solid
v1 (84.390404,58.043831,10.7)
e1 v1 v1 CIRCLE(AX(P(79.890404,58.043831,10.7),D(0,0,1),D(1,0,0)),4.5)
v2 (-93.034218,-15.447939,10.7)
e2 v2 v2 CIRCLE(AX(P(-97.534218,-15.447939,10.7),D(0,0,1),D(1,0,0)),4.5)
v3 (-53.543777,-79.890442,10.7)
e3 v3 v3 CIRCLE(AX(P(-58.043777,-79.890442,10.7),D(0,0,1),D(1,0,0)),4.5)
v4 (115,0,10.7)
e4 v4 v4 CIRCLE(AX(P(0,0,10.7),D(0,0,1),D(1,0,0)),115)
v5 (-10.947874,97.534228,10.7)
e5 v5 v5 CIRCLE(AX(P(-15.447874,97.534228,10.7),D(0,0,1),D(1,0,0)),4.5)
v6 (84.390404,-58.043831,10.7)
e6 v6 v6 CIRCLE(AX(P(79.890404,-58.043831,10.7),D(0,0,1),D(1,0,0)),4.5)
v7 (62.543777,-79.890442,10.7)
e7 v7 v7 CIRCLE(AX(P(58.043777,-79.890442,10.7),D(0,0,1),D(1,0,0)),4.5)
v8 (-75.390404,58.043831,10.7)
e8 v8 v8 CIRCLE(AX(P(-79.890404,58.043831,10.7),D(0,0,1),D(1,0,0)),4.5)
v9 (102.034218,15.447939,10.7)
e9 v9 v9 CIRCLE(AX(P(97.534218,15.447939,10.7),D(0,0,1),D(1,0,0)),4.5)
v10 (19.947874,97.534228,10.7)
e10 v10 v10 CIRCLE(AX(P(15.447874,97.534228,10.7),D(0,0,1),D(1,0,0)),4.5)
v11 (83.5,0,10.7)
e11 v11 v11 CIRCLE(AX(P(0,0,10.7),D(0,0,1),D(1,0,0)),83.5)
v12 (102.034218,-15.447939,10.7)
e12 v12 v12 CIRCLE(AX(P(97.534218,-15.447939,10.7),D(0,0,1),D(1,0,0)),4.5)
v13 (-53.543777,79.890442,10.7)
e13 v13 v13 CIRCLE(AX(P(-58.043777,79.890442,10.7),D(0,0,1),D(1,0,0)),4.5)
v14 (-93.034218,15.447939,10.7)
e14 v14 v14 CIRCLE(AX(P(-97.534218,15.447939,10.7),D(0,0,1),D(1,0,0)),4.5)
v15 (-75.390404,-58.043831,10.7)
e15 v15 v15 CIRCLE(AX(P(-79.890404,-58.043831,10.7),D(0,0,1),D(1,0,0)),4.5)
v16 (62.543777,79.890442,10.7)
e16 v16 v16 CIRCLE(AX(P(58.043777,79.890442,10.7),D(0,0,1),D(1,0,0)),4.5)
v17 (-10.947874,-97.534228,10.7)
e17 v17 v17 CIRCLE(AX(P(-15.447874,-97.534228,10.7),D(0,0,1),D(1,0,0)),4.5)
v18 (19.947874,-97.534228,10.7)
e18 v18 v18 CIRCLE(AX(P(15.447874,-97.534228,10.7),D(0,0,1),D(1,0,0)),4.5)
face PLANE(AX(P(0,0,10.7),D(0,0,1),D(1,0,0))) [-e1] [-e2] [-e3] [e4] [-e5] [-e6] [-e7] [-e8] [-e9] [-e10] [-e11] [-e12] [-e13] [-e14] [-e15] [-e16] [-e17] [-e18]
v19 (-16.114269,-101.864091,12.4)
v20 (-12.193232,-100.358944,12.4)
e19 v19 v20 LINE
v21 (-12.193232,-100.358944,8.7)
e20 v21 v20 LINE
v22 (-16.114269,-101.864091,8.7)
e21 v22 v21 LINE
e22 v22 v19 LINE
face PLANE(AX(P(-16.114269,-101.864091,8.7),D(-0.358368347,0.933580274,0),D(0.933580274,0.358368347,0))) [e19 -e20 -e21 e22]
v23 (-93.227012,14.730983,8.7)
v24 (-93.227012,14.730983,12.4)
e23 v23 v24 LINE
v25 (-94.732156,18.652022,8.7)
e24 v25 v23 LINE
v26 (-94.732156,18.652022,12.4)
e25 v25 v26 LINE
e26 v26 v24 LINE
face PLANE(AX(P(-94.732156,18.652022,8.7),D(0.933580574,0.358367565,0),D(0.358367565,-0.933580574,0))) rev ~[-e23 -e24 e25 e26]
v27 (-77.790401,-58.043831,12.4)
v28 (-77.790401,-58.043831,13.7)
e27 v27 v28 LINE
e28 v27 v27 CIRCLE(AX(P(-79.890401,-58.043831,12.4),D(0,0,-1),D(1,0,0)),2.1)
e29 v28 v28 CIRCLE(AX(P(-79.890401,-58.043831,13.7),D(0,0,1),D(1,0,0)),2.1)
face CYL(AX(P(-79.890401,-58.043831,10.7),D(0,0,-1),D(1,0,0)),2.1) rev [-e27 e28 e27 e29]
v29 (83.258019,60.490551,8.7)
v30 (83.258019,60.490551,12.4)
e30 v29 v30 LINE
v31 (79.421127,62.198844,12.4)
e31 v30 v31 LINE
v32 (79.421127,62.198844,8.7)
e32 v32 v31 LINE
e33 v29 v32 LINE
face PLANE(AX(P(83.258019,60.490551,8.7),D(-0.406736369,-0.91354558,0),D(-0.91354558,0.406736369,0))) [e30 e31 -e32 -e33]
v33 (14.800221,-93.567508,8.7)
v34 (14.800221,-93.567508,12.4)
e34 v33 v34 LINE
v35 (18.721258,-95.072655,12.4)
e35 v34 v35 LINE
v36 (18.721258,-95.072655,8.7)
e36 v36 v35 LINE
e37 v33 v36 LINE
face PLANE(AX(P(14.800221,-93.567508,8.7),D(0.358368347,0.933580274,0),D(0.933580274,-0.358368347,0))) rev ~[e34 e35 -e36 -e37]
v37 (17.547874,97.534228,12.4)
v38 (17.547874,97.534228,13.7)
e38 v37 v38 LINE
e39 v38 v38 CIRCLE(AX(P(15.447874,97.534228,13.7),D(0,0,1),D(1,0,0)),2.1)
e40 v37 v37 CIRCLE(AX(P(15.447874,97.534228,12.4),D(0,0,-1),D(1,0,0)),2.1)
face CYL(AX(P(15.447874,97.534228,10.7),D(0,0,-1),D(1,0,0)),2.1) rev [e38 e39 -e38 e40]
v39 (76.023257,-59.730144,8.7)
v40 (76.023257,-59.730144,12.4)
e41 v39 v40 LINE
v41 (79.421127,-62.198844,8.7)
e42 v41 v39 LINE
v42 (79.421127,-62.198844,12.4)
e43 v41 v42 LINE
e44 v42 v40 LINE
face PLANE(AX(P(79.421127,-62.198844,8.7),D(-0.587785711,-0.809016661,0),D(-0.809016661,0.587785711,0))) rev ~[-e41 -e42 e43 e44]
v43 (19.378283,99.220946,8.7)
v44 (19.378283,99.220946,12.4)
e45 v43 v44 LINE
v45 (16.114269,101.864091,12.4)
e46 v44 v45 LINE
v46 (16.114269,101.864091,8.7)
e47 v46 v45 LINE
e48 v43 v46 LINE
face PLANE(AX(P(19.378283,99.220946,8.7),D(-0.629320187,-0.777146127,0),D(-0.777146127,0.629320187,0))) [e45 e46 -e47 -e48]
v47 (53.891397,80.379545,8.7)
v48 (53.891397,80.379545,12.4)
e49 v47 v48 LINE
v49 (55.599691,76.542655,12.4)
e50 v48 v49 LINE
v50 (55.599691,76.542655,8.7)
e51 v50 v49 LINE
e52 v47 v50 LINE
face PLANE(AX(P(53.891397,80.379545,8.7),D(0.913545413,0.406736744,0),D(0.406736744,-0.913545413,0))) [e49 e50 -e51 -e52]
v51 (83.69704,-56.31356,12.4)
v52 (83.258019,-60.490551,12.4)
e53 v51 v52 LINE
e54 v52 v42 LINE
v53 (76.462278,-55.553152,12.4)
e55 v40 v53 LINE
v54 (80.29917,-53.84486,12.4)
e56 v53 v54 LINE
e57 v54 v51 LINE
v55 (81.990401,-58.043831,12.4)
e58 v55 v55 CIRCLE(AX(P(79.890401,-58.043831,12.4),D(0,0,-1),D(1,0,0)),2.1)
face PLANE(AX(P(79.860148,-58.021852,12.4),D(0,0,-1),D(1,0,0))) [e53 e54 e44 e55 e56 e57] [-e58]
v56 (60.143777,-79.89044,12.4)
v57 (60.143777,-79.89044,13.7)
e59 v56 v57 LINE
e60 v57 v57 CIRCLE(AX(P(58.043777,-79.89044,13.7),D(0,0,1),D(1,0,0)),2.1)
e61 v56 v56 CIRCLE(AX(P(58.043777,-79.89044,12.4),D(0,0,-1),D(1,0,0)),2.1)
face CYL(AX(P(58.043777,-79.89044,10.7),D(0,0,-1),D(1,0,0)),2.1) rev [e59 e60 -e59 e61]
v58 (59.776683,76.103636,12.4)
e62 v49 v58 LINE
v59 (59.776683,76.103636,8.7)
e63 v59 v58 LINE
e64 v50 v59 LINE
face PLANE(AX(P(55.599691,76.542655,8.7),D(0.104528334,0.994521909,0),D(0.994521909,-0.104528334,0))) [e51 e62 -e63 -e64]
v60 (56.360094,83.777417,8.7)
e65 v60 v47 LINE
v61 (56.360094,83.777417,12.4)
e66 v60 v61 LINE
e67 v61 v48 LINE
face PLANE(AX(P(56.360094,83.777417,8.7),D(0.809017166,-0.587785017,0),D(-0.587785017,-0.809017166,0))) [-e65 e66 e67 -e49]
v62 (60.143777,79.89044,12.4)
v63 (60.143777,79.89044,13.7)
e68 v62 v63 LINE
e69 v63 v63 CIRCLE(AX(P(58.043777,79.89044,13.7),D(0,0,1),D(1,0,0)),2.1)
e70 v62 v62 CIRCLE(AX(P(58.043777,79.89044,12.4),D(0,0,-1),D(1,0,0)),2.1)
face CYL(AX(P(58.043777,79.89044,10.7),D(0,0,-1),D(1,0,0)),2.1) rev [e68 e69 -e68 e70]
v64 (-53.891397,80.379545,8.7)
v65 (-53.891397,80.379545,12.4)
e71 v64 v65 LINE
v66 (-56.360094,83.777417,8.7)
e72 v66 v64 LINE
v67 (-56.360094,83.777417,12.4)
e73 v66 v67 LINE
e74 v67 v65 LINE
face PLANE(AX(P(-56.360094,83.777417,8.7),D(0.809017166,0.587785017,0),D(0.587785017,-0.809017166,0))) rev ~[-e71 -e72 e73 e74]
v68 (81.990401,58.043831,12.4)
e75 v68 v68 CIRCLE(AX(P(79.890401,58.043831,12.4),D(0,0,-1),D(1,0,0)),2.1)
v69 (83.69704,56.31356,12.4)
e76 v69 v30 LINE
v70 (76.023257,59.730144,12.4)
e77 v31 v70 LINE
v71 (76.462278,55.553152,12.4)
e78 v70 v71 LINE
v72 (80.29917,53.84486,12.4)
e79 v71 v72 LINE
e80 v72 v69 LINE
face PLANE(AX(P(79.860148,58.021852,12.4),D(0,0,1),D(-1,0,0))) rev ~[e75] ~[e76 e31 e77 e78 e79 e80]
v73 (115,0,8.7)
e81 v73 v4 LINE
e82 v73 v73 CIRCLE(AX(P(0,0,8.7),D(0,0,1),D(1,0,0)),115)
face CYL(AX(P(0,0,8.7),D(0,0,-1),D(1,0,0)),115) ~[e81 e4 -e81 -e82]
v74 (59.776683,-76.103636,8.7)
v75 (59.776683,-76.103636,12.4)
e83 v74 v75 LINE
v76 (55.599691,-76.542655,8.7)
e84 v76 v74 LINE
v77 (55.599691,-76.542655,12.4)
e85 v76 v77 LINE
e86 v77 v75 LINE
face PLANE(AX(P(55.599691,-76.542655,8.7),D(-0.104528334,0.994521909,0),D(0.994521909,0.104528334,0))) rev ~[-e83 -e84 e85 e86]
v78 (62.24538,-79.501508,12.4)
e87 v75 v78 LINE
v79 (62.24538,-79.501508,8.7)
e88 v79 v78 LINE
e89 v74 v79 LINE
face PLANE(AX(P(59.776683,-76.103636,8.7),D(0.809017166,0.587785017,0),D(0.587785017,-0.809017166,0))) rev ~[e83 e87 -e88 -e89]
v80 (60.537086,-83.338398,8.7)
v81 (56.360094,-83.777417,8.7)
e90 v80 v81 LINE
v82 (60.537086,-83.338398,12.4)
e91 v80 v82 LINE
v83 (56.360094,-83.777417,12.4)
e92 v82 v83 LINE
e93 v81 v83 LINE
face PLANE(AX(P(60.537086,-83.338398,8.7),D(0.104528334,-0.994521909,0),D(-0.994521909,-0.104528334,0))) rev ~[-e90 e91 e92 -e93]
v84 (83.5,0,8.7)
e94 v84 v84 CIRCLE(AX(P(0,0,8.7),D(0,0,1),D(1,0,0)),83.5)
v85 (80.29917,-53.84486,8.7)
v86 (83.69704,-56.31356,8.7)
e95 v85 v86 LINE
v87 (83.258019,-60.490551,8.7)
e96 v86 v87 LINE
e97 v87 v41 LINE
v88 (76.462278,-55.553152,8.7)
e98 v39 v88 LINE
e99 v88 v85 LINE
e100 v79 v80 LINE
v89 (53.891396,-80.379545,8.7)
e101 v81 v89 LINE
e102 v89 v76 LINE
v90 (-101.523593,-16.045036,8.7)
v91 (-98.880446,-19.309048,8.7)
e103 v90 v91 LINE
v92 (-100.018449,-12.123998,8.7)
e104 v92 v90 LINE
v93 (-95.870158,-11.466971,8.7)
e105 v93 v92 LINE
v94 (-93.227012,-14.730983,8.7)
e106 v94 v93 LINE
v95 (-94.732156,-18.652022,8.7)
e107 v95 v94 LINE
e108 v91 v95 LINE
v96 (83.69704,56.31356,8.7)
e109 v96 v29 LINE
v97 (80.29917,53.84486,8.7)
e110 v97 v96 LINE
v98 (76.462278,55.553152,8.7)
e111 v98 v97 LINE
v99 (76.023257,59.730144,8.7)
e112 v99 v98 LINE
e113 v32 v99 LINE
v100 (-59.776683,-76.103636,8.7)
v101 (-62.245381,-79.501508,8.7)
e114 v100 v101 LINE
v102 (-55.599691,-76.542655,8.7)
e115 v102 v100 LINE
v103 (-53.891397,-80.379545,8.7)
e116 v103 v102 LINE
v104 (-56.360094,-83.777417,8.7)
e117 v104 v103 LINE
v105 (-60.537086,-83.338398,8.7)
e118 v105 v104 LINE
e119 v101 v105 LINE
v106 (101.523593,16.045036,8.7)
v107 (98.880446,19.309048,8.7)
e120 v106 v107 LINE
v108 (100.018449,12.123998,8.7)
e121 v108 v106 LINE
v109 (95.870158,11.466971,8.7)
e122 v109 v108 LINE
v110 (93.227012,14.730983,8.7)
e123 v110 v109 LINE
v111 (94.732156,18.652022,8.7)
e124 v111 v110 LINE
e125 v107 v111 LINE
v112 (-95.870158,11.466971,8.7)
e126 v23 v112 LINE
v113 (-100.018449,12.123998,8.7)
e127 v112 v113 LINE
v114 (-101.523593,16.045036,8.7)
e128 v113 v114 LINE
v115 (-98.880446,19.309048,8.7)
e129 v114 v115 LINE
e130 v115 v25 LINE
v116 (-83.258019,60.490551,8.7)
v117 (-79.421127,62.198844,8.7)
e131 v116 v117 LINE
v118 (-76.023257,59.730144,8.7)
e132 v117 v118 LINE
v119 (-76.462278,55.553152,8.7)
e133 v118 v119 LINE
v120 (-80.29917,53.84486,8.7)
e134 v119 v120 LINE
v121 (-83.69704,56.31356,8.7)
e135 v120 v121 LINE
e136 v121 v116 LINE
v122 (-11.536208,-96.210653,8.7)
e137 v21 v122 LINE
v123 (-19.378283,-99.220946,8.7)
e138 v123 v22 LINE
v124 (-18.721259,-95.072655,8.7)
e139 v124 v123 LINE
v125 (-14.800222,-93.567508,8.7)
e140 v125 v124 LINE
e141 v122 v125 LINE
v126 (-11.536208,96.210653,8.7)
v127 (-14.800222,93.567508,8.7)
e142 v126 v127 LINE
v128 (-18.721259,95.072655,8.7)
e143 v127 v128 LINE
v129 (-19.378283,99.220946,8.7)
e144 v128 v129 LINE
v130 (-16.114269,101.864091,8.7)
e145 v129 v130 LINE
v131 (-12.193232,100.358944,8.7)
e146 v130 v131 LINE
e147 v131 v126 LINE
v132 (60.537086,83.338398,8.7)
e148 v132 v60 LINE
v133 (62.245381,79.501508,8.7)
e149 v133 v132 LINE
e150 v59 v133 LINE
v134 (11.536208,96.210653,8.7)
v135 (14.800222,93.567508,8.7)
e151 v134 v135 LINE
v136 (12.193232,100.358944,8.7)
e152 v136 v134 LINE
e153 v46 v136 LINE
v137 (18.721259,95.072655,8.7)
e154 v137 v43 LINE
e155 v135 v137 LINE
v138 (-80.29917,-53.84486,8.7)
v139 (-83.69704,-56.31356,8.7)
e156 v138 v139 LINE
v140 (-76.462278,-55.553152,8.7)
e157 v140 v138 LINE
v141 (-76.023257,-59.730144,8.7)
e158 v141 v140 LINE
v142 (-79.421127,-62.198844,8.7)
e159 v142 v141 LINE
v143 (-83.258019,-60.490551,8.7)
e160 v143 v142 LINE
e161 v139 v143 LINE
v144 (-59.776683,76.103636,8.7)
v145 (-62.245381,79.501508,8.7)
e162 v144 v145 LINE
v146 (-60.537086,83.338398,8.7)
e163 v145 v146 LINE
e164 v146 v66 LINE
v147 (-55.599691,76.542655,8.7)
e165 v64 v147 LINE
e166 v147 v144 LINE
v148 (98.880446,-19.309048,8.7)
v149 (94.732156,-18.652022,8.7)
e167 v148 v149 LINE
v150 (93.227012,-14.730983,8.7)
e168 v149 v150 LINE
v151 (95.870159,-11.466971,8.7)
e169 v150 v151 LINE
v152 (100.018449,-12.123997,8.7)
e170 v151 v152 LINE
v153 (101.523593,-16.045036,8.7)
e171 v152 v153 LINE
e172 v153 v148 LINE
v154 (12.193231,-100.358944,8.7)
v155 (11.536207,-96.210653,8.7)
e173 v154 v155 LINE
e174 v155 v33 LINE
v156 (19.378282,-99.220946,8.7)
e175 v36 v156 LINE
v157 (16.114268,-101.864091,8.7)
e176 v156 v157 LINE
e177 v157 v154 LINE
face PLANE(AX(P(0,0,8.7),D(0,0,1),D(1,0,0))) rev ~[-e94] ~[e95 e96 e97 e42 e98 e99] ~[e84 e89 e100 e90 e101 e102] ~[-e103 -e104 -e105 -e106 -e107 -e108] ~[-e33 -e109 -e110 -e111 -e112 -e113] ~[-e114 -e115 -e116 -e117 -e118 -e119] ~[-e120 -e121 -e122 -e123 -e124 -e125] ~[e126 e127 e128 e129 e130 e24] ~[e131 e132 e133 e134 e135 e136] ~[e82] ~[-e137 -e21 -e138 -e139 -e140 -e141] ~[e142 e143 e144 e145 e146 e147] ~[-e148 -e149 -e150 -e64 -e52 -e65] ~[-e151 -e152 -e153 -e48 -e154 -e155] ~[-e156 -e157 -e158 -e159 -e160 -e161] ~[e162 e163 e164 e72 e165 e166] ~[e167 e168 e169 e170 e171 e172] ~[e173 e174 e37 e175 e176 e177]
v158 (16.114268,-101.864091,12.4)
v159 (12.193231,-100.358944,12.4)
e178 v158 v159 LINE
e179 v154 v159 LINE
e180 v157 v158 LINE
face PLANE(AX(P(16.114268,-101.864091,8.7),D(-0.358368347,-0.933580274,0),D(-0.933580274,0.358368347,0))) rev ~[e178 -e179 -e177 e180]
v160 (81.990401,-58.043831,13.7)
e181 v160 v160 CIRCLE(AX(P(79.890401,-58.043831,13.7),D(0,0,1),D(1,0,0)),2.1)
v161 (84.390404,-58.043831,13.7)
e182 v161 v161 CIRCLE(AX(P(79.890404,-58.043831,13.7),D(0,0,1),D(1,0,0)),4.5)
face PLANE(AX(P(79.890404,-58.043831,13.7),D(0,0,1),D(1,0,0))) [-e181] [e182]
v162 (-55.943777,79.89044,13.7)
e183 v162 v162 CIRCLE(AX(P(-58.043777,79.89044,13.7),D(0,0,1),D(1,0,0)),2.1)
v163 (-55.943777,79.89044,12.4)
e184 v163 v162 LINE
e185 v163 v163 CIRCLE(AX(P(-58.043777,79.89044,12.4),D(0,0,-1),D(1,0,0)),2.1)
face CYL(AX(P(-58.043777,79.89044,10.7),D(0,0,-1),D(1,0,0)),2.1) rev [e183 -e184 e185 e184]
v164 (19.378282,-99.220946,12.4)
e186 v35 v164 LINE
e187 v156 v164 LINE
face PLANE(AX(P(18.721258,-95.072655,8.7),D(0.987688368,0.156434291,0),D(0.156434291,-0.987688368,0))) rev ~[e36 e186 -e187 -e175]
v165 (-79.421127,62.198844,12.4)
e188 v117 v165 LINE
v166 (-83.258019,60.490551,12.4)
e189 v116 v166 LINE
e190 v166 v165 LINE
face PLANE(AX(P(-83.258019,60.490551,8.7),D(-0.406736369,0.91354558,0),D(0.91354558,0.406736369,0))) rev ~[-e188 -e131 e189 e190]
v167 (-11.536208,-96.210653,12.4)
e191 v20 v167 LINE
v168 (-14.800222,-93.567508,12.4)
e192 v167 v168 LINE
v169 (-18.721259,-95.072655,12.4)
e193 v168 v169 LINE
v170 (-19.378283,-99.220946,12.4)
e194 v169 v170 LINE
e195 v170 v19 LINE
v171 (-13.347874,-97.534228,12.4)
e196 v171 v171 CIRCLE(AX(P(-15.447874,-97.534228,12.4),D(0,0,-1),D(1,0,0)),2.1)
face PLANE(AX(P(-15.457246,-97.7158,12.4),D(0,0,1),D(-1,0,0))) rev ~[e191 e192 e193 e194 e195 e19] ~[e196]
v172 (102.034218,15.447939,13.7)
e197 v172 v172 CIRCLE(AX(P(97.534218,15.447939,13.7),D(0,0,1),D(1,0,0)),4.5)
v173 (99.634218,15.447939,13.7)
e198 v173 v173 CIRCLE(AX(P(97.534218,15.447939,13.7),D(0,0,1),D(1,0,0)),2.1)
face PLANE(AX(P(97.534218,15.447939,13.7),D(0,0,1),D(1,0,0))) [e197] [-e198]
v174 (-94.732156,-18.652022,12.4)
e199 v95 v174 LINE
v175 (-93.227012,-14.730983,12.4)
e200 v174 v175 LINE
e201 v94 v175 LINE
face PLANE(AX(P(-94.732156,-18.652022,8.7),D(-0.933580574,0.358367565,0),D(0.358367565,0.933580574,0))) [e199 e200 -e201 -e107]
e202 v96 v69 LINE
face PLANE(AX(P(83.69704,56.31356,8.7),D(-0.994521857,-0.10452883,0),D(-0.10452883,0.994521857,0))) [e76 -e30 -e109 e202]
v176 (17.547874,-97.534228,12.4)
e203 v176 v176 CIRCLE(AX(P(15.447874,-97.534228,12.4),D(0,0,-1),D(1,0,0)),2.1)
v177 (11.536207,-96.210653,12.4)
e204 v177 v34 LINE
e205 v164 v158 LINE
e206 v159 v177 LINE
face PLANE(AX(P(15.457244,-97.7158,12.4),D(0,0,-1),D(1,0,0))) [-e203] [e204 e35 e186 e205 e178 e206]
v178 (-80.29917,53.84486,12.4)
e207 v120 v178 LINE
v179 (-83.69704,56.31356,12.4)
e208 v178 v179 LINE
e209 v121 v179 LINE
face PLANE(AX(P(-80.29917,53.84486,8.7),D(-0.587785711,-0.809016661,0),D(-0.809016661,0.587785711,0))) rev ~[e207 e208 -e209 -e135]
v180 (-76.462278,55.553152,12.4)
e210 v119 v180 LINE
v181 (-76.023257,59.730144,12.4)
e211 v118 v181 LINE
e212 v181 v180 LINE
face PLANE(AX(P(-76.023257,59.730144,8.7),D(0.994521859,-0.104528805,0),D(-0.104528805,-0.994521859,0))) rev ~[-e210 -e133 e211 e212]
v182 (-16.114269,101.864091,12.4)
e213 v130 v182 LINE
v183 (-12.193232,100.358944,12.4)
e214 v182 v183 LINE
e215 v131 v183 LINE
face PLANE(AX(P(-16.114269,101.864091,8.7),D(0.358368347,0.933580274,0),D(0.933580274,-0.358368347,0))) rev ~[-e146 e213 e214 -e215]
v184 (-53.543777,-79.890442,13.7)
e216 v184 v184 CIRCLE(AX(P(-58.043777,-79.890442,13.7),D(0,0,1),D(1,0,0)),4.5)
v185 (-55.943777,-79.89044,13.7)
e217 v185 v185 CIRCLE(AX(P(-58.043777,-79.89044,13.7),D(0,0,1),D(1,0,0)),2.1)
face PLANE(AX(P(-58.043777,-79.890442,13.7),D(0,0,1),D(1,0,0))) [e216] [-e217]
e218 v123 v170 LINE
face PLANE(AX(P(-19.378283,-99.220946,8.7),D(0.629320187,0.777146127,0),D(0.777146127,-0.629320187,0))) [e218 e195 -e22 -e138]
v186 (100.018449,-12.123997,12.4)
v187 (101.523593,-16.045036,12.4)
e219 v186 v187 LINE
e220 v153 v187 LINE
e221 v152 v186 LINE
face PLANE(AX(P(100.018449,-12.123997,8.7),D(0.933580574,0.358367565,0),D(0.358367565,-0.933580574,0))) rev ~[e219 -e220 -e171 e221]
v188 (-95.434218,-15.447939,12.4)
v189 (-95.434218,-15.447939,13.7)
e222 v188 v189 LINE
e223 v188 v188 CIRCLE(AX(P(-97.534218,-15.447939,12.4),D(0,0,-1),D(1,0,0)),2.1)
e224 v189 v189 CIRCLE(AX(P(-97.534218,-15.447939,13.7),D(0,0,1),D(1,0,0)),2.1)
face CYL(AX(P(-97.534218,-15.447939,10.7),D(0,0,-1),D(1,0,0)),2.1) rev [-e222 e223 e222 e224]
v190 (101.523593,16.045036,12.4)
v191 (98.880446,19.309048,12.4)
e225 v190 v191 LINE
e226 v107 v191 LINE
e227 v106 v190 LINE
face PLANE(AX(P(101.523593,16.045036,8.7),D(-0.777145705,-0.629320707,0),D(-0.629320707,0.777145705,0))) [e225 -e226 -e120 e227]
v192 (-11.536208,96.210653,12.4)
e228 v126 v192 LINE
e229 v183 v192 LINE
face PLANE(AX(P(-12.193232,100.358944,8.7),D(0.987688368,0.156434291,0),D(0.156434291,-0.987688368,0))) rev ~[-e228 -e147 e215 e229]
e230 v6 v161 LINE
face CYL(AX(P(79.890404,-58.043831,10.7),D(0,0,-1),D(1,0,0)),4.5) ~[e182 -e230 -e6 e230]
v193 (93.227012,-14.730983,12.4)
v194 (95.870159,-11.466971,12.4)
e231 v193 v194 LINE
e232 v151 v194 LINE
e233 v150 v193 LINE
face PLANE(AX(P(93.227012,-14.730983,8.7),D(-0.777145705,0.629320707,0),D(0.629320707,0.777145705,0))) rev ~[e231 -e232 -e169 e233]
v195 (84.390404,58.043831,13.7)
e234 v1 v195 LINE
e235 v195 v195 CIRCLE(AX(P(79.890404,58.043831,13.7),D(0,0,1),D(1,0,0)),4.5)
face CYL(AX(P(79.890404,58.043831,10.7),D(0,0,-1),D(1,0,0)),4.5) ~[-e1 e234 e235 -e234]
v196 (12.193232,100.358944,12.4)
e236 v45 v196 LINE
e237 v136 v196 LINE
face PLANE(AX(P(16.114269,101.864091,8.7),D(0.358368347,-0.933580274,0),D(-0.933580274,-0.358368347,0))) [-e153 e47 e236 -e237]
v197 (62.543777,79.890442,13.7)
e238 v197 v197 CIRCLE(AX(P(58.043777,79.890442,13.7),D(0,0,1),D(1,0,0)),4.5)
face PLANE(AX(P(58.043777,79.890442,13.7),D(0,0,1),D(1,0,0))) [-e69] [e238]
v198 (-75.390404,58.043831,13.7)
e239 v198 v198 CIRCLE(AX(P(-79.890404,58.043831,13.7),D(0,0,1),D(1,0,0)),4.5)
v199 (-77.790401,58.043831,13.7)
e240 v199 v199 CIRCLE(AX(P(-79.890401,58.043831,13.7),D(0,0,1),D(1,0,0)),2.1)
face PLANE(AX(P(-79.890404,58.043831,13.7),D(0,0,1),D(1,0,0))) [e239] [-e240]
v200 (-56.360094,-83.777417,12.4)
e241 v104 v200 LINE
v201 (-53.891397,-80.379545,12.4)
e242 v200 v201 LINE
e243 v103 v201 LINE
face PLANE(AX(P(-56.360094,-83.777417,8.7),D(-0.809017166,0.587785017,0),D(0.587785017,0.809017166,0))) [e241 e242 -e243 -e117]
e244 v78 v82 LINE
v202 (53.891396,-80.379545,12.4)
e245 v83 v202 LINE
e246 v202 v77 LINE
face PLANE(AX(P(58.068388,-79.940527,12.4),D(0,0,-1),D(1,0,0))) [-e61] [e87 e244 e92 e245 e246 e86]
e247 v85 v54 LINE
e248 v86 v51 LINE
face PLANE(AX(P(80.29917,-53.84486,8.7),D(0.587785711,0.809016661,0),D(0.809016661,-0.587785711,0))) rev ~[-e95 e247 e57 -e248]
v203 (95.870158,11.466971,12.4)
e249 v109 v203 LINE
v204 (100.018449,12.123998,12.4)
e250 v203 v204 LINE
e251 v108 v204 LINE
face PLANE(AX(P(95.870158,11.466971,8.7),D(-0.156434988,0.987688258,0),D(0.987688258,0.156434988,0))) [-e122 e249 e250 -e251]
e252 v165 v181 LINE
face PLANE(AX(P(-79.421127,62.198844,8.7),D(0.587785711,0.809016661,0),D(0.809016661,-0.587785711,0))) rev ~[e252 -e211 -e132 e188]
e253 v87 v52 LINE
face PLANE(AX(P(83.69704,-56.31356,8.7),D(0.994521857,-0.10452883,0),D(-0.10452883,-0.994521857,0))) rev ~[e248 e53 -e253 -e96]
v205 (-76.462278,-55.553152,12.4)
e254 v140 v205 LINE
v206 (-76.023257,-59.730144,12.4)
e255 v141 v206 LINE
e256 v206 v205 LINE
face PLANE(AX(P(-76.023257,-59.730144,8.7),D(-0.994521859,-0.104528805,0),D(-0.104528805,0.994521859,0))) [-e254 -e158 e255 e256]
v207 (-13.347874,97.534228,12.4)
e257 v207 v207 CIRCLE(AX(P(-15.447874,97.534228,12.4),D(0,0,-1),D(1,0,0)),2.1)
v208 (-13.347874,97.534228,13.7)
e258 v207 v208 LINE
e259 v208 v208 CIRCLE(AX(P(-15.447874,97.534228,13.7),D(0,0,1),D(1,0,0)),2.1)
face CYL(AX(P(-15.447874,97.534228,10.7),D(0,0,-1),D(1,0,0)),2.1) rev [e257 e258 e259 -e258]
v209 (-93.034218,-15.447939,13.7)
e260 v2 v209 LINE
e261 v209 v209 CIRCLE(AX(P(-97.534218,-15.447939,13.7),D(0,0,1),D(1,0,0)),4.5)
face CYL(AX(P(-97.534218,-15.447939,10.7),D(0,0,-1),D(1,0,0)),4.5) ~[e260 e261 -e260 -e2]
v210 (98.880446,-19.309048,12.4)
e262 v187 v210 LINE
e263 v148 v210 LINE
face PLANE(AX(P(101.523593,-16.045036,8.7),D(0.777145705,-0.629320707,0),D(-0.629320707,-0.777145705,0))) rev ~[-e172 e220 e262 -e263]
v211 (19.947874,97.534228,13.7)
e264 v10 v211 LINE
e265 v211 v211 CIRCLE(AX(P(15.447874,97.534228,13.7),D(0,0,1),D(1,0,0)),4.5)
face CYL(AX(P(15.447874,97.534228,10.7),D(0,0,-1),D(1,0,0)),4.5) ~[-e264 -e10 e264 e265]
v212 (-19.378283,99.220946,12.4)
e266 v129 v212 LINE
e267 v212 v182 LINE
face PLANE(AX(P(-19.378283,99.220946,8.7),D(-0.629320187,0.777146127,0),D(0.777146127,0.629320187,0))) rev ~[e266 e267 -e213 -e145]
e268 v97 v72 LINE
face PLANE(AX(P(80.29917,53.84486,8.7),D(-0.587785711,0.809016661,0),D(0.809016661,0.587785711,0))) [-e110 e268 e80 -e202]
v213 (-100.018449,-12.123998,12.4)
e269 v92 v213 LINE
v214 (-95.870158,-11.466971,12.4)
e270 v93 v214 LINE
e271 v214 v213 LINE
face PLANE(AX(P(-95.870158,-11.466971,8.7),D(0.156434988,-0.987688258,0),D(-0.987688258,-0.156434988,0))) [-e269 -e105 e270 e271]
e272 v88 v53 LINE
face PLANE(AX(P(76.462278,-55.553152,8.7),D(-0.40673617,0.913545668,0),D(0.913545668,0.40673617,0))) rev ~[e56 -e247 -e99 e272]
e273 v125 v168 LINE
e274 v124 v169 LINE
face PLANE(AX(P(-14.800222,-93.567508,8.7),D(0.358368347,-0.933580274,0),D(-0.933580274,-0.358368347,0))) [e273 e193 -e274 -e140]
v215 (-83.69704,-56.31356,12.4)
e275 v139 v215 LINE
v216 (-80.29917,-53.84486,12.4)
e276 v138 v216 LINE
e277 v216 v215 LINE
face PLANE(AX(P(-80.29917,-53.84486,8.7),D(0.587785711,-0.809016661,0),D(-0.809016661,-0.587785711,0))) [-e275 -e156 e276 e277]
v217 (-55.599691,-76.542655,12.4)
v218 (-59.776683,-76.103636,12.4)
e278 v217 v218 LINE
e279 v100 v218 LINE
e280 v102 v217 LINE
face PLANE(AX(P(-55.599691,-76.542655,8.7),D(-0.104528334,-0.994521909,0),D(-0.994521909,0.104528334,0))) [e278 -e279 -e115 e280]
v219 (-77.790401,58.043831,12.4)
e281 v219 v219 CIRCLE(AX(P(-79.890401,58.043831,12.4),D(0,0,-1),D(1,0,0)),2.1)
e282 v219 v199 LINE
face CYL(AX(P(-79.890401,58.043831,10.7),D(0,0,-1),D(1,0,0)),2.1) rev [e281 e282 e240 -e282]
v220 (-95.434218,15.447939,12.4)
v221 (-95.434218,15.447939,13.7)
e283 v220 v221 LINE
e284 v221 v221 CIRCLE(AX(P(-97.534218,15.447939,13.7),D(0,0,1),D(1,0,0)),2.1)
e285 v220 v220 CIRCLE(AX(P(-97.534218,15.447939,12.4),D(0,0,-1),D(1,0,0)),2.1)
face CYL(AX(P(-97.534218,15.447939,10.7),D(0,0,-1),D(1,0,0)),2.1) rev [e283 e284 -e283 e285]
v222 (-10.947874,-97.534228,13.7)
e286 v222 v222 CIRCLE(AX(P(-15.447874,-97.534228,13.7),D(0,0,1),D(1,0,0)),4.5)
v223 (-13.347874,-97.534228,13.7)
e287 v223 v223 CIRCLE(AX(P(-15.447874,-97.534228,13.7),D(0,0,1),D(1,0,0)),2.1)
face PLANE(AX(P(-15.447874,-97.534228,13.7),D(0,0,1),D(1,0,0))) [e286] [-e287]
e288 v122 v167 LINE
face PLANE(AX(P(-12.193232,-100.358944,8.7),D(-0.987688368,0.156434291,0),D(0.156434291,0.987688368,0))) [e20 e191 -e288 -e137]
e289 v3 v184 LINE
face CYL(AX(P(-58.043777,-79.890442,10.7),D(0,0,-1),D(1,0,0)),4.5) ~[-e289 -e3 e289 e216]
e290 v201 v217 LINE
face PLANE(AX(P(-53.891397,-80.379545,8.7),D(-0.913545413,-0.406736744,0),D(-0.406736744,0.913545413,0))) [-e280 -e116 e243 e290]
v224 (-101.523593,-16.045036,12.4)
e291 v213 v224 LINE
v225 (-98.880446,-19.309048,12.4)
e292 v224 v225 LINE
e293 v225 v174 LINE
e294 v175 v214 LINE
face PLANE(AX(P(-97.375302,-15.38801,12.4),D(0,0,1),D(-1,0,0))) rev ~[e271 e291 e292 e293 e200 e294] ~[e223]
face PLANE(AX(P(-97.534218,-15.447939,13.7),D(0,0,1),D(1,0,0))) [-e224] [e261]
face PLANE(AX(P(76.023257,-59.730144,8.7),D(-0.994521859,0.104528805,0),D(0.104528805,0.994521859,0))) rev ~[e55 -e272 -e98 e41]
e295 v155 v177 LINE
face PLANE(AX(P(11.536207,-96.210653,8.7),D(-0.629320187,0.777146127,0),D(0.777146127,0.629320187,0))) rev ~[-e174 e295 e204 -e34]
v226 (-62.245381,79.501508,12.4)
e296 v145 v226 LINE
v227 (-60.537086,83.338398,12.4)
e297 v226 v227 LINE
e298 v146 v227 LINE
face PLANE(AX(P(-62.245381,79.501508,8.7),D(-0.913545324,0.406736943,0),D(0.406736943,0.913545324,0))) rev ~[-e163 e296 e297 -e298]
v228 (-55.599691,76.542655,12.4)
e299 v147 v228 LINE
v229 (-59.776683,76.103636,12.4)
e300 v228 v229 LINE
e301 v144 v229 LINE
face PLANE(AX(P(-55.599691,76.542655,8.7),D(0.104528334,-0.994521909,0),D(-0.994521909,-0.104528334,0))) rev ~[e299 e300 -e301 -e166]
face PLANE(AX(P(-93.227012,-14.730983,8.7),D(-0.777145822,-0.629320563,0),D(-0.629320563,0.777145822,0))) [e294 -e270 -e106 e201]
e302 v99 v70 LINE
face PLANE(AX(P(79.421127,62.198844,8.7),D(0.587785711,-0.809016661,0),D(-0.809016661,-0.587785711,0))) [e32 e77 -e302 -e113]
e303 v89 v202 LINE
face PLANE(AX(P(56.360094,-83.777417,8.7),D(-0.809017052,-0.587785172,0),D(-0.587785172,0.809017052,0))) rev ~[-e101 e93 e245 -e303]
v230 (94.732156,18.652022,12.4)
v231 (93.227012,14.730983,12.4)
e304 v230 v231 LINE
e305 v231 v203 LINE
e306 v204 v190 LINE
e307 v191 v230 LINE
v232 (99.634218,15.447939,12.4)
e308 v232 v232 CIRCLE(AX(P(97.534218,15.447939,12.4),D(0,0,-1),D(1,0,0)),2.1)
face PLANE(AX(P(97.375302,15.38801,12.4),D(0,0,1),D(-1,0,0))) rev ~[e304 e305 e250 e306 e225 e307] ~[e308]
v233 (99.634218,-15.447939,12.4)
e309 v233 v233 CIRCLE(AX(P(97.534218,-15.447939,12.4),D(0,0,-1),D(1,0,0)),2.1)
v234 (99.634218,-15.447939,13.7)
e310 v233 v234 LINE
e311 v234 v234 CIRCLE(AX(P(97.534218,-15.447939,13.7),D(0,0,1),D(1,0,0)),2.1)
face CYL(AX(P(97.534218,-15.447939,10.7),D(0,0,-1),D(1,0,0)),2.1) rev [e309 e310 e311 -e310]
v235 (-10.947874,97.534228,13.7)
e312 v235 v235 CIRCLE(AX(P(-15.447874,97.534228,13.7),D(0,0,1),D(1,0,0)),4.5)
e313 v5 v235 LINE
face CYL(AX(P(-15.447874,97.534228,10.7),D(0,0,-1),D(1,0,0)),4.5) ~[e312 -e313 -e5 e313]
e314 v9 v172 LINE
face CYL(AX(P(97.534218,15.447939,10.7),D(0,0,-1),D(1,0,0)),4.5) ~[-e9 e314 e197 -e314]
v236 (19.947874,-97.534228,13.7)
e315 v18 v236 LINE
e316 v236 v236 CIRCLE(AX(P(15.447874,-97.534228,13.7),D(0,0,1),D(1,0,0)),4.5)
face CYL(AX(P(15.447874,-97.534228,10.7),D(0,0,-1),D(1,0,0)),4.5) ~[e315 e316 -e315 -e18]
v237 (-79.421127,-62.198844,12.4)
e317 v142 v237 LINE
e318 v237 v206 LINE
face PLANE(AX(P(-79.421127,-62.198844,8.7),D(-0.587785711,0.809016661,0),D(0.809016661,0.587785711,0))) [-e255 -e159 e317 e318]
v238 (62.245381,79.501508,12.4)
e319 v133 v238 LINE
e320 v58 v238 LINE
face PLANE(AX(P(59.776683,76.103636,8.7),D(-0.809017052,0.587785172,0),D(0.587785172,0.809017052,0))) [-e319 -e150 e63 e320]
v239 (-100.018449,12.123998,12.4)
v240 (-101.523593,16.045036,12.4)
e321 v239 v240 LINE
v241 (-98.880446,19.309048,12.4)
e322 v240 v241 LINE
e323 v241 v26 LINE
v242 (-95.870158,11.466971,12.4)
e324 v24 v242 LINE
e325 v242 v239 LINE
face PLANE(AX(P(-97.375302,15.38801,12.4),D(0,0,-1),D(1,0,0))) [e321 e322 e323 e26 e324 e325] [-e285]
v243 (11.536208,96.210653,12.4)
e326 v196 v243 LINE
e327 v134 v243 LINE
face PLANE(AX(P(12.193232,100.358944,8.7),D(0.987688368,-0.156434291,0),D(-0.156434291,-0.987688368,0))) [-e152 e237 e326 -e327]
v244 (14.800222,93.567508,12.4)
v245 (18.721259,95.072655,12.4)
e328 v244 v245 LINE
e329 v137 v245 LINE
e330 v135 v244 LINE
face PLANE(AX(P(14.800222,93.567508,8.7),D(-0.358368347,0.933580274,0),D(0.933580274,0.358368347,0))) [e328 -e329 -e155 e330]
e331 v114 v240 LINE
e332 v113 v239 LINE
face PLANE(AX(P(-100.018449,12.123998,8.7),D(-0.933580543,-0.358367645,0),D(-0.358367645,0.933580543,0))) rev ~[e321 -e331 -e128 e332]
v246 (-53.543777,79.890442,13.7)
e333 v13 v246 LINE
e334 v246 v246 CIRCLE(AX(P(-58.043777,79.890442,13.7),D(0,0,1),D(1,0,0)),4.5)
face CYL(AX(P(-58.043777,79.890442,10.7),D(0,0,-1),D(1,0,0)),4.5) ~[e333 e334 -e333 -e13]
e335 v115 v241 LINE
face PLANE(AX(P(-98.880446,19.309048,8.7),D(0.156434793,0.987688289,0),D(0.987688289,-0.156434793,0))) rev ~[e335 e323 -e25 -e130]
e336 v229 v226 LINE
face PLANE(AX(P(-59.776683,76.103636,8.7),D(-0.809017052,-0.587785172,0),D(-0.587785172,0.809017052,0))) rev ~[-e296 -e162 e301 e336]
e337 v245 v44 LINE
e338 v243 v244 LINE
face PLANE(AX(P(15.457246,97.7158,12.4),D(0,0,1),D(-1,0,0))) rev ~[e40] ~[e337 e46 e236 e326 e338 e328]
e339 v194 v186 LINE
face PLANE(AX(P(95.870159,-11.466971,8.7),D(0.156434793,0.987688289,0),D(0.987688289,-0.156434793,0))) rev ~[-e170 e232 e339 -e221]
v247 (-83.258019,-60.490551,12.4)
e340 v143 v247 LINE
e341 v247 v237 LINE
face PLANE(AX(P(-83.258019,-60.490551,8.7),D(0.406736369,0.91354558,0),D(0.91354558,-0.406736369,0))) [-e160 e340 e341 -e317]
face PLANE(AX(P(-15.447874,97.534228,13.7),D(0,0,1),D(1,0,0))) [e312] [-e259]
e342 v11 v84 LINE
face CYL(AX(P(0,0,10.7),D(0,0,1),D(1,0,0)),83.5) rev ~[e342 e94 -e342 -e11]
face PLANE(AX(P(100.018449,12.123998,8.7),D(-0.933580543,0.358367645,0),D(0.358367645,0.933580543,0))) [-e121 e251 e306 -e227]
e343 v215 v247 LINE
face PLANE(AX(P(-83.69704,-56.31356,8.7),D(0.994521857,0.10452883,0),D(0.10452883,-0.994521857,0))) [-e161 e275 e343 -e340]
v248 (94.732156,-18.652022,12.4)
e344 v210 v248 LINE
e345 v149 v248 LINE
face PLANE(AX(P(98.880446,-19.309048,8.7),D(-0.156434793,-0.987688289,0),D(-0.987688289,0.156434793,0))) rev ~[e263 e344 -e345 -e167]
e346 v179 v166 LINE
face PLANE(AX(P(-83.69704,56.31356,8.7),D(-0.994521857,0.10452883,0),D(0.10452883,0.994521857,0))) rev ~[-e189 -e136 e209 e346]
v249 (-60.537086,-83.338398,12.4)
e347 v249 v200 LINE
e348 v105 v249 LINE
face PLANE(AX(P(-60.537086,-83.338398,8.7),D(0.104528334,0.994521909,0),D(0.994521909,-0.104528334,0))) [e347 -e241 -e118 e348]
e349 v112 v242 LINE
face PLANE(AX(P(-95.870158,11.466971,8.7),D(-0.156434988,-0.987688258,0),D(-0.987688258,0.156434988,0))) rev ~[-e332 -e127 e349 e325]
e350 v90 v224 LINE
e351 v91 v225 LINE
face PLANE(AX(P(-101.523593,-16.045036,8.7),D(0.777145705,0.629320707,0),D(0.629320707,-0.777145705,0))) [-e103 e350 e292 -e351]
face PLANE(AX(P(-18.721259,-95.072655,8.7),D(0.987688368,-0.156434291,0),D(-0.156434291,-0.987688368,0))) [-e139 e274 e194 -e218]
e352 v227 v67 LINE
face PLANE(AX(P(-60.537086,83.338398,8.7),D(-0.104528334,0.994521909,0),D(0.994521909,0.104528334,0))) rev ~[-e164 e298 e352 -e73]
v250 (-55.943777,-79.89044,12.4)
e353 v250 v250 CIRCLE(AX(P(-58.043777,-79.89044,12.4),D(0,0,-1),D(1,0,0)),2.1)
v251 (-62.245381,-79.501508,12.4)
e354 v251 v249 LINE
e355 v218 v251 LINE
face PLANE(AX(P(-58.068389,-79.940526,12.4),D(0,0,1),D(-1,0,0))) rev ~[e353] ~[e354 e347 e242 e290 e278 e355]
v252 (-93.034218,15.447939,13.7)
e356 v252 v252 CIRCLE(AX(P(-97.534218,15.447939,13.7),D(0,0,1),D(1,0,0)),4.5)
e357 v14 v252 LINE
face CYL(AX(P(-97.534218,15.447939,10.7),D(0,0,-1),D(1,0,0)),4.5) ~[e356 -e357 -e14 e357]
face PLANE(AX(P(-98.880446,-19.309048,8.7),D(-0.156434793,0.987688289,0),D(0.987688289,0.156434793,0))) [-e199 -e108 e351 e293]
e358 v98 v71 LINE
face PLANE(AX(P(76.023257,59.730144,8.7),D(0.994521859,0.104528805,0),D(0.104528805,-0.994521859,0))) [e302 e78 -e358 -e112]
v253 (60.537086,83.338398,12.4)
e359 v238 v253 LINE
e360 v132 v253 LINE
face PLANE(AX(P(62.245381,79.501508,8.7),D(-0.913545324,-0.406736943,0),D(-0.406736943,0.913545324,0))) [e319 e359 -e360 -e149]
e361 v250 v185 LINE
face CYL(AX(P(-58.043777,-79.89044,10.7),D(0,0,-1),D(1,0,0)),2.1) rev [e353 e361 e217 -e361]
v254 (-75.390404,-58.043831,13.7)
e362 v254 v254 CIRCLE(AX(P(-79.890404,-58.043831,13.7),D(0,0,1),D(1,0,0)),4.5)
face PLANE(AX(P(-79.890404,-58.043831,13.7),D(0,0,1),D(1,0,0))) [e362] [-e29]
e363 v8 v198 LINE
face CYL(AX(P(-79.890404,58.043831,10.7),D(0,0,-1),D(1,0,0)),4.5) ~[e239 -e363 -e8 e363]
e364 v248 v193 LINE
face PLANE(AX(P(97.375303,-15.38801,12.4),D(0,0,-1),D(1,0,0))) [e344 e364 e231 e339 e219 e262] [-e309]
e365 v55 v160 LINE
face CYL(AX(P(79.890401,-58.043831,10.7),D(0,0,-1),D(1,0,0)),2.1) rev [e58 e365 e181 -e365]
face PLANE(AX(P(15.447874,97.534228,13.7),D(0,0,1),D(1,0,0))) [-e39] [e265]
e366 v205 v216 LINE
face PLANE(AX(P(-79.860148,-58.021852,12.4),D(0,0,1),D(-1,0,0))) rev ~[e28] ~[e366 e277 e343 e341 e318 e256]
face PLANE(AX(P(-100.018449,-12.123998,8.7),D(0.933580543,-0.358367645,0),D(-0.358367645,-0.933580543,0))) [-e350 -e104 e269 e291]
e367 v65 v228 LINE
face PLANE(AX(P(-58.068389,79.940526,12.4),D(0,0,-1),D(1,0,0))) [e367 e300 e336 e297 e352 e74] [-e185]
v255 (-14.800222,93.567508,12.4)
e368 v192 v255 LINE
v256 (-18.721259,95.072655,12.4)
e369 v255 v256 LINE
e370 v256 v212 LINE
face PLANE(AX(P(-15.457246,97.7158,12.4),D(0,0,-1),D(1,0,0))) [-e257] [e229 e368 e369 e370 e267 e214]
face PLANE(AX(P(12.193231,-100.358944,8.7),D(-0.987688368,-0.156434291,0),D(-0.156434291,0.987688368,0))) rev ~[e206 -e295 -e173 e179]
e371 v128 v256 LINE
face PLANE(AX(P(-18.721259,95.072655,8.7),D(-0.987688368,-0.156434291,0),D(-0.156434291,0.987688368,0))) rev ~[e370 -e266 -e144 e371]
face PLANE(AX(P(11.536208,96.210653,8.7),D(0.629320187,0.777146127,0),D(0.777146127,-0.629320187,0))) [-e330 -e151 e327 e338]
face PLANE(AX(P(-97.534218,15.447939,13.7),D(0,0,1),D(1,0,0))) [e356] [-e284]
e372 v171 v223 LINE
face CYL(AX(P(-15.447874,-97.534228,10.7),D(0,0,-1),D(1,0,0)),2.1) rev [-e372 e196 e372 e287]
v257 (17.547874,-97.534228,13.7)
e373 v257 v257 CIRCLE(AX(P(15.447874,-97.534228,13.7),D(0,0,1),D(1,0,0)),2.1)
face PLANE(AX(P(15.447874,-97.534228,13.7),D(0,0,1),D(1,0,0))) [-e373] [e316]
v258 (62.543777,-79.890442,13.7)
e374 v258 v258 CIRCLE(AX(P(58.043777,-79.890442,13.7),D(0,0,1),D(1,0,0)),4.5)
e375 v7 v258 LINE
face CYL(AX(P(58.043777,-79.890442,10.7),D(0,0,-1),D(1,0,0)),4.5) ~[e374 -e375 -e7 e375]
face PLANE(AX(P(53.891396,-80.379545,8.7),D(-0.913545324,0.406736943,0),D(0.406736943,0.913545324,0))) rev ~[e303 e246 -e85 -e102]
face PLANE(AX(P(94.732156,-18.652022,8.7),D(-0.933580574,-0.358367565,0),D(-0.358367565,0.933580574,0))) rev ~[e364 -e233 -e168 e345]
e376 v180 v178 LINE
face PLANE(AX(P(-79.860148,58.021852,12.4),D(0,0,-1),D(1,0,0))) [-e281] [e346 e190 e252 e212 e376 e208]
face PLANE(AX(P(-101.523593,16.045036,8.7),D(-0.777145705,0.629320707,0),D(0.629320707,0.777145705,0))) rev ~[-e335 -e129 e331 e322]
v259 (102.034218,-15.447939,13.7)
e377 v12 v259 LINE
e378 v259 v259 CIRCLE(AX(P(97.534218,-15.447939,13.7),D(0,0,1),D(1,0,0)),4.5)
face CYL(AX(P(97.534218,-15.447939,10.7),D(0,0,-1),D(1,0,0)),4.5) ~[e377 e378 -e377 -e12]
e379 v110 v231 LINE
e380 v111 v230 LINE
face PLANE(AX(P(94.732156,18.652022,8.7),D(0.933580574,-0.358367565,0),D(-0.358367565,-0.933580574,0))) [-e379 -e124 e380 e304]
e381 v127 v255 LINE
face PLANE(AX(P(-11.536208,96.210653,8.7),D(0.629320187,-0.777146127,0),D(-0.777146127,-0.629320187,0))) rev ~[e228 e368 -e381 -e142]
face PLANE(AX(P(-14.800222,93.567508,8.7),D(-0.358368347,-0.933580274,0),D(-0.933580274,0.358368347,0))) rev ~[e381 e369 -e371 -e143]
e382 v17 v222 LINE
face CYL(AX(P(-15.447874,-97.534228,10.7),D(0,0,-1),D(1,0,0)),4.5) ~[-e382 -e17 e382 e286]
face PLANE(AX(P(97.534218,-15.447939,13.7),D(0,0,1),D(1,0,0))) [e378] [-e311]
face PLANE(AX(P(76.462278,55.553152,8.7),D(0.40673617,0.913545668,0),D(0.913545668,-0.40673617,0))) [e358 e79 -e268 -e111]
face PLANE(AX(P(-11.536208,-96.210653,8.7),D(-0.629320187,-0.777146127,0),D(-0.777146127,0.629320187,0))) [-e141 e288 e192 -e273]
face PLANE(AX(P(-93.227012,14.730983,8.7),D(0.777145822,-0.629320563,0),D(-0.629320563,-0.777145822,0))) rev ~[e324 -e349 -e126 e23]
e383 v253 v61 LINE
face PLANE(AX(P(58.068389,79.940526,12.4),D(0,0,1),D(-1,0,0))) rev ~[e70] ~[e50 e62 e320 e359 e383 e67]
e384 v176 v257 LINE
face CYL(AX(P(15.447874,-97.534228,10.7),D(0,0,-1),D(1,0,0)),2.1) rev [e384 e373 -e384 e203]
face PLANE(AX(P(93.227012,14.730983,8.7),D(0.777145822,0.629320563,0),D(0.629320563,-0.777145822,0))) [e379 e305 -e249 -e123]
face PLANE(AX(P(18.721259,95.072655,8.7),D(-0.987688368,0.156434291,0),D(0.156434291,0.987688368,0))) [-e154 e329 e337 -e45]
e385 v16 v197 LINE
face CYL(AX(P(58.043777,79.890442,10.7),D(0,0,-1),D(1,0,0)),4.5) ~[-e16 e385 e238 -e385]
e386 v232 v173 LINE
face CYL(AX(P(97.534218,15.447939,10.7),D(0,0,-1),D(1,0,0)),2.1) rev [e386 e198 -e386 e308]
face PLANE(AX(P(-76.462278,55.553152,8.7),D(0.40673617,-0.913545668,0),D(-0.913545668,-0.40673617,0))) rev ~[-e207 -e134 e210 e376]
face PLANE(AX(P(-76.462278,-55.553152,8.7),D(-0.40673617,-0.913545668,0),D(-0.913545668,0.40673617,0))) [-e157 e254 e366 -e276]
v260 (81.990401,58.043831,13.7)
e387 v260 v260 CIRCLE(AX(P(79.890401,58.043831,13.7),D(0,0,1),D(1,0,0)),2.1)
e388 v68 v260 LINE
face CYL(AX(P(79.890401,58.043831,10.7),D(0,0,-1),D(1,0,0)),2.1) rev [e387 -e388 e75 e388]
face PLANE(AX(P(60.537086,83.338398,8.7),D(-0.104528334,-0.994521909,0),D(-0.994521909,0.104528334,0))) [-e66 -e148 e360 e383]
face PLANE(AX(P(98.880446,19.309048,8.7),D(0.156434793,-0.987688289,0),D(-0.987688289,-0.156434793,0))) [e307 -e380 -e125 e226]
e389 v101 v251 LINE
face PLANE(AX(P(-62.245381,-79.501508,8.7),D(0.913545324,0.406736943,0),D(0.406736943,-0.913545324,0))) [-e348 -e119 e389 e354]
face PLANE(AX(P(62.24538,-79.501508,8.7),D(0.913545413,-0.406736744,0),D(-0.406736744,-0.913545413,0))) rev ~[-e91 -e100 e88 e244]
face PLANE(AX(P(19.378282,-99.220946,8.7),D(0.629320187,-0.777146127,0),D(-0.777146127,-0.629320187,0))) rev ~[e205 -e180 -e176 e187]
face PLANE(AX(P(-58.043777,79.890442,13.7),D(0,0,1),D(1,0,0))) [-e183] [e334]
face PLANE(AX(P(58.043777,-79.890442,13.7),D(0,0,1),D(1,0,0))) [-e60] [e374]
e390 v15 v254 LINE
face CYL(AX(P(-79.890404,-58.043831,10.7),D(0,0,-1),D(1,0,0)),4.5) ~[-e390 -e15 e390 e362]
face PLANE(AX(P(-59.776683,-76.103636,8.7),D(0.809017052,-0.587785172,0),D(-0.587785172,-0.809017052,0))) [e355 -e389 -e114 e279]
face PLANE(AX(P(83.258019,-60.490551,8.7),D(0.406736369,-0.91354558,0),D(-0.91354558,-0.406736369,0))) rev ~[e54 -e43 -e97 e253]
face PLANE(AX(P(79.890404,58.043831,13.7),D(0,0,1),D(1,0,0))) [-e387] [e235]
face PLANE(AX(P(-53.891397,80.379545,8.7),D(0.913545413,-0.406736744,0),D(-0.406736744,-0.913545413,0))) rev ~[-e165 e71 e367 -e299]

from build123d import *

# Parameters (mm, degrees)
SKETCH006_R     = 115
PAD002_DEPTH    = 2
SKETCH007_R     = 83.5
POCKET001_DEPTH = 5
SKETCH008_R     = 2.1
POCKET002_DEPTH = 5
SKETCH009_R     = 4.5
SKETCH009_R_2   = 2.1
PAD008_DEPTH    = 3
POCKET013_DEPTH = 3.7


with BuildPart() as part:
    # Sketch006 → Pad002 (new body)
    with BuildSketch(Plane.XY):
        Circle(SKETCH006_R)
    extrude(amount=PAD002_DEPTH)

    # Sketch007 (on Face3 of Pad002) → Pocket001 (cut)
    with BuildSketch(Plane.XY.offset(2)):
        Circle(SKETCH007_R)
    extrude(amount=-POCKET001_DEPTH, mode=Mode.SUBTRACT)

    # Sketch008 (on Face3 of Pocket001) → Pocket002 (cut)
    with BuildSketch(Plane.XY.offset(2)):
        with Locations((15.447872, 97.534217)):
            Circle(SKETCH008_R)
        with Locations((58.043797, 79.890427)):
            Circle(SKETCH008_R)
        with Locations((79.890404, 58.043835)):
            Circle(SKETCH008_R)
        with Locations((97.534243, 15.447889)):
            Circle(SKETCH008_R)
        with Locations((15.447872, -97.534217)):
            Circle(SKETCH008_R)
        with Locations((58.043797, -79.890427)):
            Circle(SKETCH008_R)
        with Locations((79.890404, -58.043835)):
            Circle(SKETCH008_R)
        with Locations((97.534243, -15.447889)):
            Circle(SKETCH008_R)
        with Locations((-15.447872, 97.534217)):
            Circle(SKETCH008_R)
        with Locations((-58.043797, 79.890427)):
            Circle(SKETCH008_R)
        with Locations((-79.890404, 58.043835)):
            Circle(SKETCH008_R)
        with Locations((-97.534243, 15.447889)):
            Circle(SKETCH008_R)
        with Locations((-15.447872, -97.534217)):
            Circle(SKETCH008_R)
        with Locations((-58.043797, -79.890427)):
            Circle(SKETCH008_R)
        with Locations((-79.890404, -58.043835)):
            Circle(SKETCH008_R)
        with Locations((-97.534243, -15.447889)):
            Circle(SKETCH008_R)
    extrude(amount=-POCKET002_DEPTH, mode=Mode.SUBTRACT)

    # Sketch009 (on Face3 of Pocket002) → Pad008 (join)
    with BuildSketch(Plane.XY.offset(2)):
        with Locations((15.447874, 97.534228)):
            Circle(SKETCH009_R)
        with Locations((15.447874, 97.534228)):
            Circle(SKETCH009_R_2, mode=Mode.SUBTRACT)
        with Locations((58.043777, 79.890442)):
            Circle(SKETCH009_R)
        with Locations((58.043777, 79.89044)):
            Circle(SKETCH009_R_2, mode=Mode.SUBTRACT)
        with Locations((79.890404, 58.043831)):
            Circle(SKETCH009_R)
        with Locations((79.890401, 58.043831)):
            Circle(SKETCH009_R_2, mode=Mode.SUBTRACT)
        with Locations((97.534218, 15.447939)):
            Circle(SKETCH009_R)
        with Locations((97.534218, 15.447939)):
            Circle(SKETCH009_R_2, mode=Mode.SUBTRACT)
        with Locations((15.447874, -97.534228)):
            Circle(SKETCH009_R)
        with Locations((15.447874, -97.534228)):
            Circle(SKETCH009_R_2, mode=Mode.SUBTRACT)
        with Locations((58.043777, -79.890442)):
            Circle(SKETCH009_R)
        with Locations((58.043777, -79.89044)):
            Circle(SKETCH009_R_2, mode=Mode.SUBTRACT)
        with Locations((79.890404, -58.043831)):
            Circle(SKETCH009_R)
        with Locations((79.890401, -58.043831)):
            Circle(SKETCH009_R_2, mode=Mode.SUBTRACT)
        with Locations((97.534218, -15.447939)):
            Circle(SKETCH009_R)
        with Locations((97.534218, -15.447939)):
            Circle(SKETCH009_R_2, mode=Mode.SUBTRACT)
        with Locations((-15.447874, 97.534228)):
            Circle(SKETCH009_R)
        with Locations((-15.447874, 97.534228)):
            Circle(SKETCH009_R_2, mode=Mode.SUBTRACT)
        with Locations((-58.043777, 79.890442)):
            Circle(SKETCH009_R)
        with Locations((-58.043777, 79.89044)):
            Circle(SKETCH009_R_2, mode=Mode.SUBTRACT)
        with Locations((-79.890404, 58.043831)):
            Circle(SKETCH009_R)
        with Locations((-79.890401, 58.043831)):
            Circle(SKETCH009_R_2, mode=Mode.SUBTRACT)
        with Locations((-97.534218, 15.447939)):
            Circle(SKETCH009_R)
        with Locations((-97.534218, 15.447939)):
            Circle(SKETCH009_R_2, mode=Mode.SUBTRACT)
        with Locations((-15.447874, -97.534228)):
            Circle(SKETCH009_R)
        with Locations((-15.447874, -97.534228)):
            Circle(SKETCH009_R_2, mode=Mode.SUBTRACT)
        with Locations((-58.043777, -79.890442)):
            Circle(SKETCH009_R)
        with Locations((-58.043777, -79.89044)):
            Circle(SKETCH009_R_2, mode=Mode.SUBTRACT)
        with Locations((-79.890404, -58.043831)):
            Circle(SKETCH009_R)
        with Locations((-79.890401, -58.043831)):
            Circle(SKETCH009_R_2, mode=Mode.SUBTRACT)
        with Locations((-97.534218, -15.447939)):
            Circle(SKETCH009_R)
        with Locations((-97.534218, -15.447939)):
            Circle(SKETCH009_R_2, mode=Mode.SUBTRACT)
    extrude(amount=PAD008_DEPTH)

    # Sketch036 (on Face2 of Pad008) → Pocket013 (cut)
    with BuildSketch(Plane(origin=(0, 0, 0), x_dir=(1, 0, 0), z_dir=(0, 0, -1))):
        Polygon((14.800221, 93.567508), (18.721258, 95.072655), (19.378282, 99.220946), (16.114268, 101.864091), (12.193231, 100.358944), (11.536207, 96.210653), align=None)
        Polygon((55.599691, 76.542655), (59.776683, 76.103636), (62.24538, 79.501508), (60.537086, 83.338398), (56.360094, 83.777417), (53.891396, 80.379545), align=None)
        Polygon((76.462278, 55.553152), (80.29917, 53.84486), (83.69704, 56.31356), (83.258019, 60.490551), (79.421127, 62.198844), (76.023257, 59.730144), align=None)
        Polygon((93.227012, 14.730983), (95.870159, 11.466971), (100.018449, 12.123997), (101.523593, 16.045036), (98.880446, 19.309048), (94.732156, 18.652022), align=None)
        Polygon((-14.800222, 93.567508), (-18.721259, 95.072655), (-19.378283, 99.220946), (-16.114269, 101.864091), (-12.193232, 100.358944), (-11.536208, 96.210653), align=None)
        Polygon((-55.599691, 76.542655), (-59.776683, 76.103636), (-62.245381, 79.501508), (-60.537086, 83.338398), (-56.360094, 83.777417), (-53.891397, 80.379545), align=None)
        Polygon((-76.462278, 55.553152), (-80.29917, 53.84486), (-83.69704, 56.31356), (-83.258019, 60.490551), (-79.421127, 62.198844), (-76.023257, 59.730144), align=None)
        Polygon((-93.227012, 14.730983), (-95.870158, 11.466971), (-100.018449, 12.123998), (-101.523593, 16.045036), (-98.880446, 19.309048), (-94.732156, 18.652022), align=None)
        Polygon((14.800222, -93.567508), (18.721259, -95.072655), (19.378283, -99.220946), (16.114269, -101.864091), (12.193232, -100.358944), (11.536208, -96.210653), align=None)
        Polygon((55.599691, -76.542655), (59.776683, -76.103636), (62.245381, -79.501508), (60.537086, -83.338398), (56.360094, -83.777417), (53.891397, -80.379545), align=None)
        Polygon((76.462278, -55.553152), (80.29917, -53.84486), (83.69704, -56.31356), (83.258019, -60.490551), (79.421127, -62.198844), (76.023257, -59.730144), align=None)
        Polygon((93.227012, -14.730983), (95.870158, -11.466971), (100.018449, -12.123998), (101.523593, -16.045036), (98.880446, -19.309048), (94.732156, -18.652022), align=None)
        Polygon((-14.800222, -93.567508), (-18.721259, -95.072655), (-19.378283, -99.220946), (-16.114269, -101.864091), (-12.193232, -100.358944), (-11.536208, -96.210653), align=None)
        Polygon((-55.599691, -76.542655), (-59.776683, -76.103636), (-62.245381, -79.501508), (-60.537086, -83.338398), (-56.360094, -83.777417), (-53.891397, -80.379545), align=None)
        Polygon((-76.462278, -55.553152), (-80.29917, -53.84486), (-83.69704, -56.31356), (-83.258019, -60.490551), (-79.421127, -62.198844), (-76.023257, -59.730144), align=None)
        Polygon((-93.227012, -14.730983), (-95.870158, -11.466971), (-100.018449, -12.123998), (-101.523593, -16.045036), (-98.880446, -19.309048), (-94.732156, -18.652022), align=None)
    extrude(amount=-POCKET013_DEPTH, mode=Mode.SUBTRACT)


with BuildPart() as part_1:
    # Body003 placement: moved
    add(part.part.moved(Location((0, 0, 8.7))))


solid = part_1.part
